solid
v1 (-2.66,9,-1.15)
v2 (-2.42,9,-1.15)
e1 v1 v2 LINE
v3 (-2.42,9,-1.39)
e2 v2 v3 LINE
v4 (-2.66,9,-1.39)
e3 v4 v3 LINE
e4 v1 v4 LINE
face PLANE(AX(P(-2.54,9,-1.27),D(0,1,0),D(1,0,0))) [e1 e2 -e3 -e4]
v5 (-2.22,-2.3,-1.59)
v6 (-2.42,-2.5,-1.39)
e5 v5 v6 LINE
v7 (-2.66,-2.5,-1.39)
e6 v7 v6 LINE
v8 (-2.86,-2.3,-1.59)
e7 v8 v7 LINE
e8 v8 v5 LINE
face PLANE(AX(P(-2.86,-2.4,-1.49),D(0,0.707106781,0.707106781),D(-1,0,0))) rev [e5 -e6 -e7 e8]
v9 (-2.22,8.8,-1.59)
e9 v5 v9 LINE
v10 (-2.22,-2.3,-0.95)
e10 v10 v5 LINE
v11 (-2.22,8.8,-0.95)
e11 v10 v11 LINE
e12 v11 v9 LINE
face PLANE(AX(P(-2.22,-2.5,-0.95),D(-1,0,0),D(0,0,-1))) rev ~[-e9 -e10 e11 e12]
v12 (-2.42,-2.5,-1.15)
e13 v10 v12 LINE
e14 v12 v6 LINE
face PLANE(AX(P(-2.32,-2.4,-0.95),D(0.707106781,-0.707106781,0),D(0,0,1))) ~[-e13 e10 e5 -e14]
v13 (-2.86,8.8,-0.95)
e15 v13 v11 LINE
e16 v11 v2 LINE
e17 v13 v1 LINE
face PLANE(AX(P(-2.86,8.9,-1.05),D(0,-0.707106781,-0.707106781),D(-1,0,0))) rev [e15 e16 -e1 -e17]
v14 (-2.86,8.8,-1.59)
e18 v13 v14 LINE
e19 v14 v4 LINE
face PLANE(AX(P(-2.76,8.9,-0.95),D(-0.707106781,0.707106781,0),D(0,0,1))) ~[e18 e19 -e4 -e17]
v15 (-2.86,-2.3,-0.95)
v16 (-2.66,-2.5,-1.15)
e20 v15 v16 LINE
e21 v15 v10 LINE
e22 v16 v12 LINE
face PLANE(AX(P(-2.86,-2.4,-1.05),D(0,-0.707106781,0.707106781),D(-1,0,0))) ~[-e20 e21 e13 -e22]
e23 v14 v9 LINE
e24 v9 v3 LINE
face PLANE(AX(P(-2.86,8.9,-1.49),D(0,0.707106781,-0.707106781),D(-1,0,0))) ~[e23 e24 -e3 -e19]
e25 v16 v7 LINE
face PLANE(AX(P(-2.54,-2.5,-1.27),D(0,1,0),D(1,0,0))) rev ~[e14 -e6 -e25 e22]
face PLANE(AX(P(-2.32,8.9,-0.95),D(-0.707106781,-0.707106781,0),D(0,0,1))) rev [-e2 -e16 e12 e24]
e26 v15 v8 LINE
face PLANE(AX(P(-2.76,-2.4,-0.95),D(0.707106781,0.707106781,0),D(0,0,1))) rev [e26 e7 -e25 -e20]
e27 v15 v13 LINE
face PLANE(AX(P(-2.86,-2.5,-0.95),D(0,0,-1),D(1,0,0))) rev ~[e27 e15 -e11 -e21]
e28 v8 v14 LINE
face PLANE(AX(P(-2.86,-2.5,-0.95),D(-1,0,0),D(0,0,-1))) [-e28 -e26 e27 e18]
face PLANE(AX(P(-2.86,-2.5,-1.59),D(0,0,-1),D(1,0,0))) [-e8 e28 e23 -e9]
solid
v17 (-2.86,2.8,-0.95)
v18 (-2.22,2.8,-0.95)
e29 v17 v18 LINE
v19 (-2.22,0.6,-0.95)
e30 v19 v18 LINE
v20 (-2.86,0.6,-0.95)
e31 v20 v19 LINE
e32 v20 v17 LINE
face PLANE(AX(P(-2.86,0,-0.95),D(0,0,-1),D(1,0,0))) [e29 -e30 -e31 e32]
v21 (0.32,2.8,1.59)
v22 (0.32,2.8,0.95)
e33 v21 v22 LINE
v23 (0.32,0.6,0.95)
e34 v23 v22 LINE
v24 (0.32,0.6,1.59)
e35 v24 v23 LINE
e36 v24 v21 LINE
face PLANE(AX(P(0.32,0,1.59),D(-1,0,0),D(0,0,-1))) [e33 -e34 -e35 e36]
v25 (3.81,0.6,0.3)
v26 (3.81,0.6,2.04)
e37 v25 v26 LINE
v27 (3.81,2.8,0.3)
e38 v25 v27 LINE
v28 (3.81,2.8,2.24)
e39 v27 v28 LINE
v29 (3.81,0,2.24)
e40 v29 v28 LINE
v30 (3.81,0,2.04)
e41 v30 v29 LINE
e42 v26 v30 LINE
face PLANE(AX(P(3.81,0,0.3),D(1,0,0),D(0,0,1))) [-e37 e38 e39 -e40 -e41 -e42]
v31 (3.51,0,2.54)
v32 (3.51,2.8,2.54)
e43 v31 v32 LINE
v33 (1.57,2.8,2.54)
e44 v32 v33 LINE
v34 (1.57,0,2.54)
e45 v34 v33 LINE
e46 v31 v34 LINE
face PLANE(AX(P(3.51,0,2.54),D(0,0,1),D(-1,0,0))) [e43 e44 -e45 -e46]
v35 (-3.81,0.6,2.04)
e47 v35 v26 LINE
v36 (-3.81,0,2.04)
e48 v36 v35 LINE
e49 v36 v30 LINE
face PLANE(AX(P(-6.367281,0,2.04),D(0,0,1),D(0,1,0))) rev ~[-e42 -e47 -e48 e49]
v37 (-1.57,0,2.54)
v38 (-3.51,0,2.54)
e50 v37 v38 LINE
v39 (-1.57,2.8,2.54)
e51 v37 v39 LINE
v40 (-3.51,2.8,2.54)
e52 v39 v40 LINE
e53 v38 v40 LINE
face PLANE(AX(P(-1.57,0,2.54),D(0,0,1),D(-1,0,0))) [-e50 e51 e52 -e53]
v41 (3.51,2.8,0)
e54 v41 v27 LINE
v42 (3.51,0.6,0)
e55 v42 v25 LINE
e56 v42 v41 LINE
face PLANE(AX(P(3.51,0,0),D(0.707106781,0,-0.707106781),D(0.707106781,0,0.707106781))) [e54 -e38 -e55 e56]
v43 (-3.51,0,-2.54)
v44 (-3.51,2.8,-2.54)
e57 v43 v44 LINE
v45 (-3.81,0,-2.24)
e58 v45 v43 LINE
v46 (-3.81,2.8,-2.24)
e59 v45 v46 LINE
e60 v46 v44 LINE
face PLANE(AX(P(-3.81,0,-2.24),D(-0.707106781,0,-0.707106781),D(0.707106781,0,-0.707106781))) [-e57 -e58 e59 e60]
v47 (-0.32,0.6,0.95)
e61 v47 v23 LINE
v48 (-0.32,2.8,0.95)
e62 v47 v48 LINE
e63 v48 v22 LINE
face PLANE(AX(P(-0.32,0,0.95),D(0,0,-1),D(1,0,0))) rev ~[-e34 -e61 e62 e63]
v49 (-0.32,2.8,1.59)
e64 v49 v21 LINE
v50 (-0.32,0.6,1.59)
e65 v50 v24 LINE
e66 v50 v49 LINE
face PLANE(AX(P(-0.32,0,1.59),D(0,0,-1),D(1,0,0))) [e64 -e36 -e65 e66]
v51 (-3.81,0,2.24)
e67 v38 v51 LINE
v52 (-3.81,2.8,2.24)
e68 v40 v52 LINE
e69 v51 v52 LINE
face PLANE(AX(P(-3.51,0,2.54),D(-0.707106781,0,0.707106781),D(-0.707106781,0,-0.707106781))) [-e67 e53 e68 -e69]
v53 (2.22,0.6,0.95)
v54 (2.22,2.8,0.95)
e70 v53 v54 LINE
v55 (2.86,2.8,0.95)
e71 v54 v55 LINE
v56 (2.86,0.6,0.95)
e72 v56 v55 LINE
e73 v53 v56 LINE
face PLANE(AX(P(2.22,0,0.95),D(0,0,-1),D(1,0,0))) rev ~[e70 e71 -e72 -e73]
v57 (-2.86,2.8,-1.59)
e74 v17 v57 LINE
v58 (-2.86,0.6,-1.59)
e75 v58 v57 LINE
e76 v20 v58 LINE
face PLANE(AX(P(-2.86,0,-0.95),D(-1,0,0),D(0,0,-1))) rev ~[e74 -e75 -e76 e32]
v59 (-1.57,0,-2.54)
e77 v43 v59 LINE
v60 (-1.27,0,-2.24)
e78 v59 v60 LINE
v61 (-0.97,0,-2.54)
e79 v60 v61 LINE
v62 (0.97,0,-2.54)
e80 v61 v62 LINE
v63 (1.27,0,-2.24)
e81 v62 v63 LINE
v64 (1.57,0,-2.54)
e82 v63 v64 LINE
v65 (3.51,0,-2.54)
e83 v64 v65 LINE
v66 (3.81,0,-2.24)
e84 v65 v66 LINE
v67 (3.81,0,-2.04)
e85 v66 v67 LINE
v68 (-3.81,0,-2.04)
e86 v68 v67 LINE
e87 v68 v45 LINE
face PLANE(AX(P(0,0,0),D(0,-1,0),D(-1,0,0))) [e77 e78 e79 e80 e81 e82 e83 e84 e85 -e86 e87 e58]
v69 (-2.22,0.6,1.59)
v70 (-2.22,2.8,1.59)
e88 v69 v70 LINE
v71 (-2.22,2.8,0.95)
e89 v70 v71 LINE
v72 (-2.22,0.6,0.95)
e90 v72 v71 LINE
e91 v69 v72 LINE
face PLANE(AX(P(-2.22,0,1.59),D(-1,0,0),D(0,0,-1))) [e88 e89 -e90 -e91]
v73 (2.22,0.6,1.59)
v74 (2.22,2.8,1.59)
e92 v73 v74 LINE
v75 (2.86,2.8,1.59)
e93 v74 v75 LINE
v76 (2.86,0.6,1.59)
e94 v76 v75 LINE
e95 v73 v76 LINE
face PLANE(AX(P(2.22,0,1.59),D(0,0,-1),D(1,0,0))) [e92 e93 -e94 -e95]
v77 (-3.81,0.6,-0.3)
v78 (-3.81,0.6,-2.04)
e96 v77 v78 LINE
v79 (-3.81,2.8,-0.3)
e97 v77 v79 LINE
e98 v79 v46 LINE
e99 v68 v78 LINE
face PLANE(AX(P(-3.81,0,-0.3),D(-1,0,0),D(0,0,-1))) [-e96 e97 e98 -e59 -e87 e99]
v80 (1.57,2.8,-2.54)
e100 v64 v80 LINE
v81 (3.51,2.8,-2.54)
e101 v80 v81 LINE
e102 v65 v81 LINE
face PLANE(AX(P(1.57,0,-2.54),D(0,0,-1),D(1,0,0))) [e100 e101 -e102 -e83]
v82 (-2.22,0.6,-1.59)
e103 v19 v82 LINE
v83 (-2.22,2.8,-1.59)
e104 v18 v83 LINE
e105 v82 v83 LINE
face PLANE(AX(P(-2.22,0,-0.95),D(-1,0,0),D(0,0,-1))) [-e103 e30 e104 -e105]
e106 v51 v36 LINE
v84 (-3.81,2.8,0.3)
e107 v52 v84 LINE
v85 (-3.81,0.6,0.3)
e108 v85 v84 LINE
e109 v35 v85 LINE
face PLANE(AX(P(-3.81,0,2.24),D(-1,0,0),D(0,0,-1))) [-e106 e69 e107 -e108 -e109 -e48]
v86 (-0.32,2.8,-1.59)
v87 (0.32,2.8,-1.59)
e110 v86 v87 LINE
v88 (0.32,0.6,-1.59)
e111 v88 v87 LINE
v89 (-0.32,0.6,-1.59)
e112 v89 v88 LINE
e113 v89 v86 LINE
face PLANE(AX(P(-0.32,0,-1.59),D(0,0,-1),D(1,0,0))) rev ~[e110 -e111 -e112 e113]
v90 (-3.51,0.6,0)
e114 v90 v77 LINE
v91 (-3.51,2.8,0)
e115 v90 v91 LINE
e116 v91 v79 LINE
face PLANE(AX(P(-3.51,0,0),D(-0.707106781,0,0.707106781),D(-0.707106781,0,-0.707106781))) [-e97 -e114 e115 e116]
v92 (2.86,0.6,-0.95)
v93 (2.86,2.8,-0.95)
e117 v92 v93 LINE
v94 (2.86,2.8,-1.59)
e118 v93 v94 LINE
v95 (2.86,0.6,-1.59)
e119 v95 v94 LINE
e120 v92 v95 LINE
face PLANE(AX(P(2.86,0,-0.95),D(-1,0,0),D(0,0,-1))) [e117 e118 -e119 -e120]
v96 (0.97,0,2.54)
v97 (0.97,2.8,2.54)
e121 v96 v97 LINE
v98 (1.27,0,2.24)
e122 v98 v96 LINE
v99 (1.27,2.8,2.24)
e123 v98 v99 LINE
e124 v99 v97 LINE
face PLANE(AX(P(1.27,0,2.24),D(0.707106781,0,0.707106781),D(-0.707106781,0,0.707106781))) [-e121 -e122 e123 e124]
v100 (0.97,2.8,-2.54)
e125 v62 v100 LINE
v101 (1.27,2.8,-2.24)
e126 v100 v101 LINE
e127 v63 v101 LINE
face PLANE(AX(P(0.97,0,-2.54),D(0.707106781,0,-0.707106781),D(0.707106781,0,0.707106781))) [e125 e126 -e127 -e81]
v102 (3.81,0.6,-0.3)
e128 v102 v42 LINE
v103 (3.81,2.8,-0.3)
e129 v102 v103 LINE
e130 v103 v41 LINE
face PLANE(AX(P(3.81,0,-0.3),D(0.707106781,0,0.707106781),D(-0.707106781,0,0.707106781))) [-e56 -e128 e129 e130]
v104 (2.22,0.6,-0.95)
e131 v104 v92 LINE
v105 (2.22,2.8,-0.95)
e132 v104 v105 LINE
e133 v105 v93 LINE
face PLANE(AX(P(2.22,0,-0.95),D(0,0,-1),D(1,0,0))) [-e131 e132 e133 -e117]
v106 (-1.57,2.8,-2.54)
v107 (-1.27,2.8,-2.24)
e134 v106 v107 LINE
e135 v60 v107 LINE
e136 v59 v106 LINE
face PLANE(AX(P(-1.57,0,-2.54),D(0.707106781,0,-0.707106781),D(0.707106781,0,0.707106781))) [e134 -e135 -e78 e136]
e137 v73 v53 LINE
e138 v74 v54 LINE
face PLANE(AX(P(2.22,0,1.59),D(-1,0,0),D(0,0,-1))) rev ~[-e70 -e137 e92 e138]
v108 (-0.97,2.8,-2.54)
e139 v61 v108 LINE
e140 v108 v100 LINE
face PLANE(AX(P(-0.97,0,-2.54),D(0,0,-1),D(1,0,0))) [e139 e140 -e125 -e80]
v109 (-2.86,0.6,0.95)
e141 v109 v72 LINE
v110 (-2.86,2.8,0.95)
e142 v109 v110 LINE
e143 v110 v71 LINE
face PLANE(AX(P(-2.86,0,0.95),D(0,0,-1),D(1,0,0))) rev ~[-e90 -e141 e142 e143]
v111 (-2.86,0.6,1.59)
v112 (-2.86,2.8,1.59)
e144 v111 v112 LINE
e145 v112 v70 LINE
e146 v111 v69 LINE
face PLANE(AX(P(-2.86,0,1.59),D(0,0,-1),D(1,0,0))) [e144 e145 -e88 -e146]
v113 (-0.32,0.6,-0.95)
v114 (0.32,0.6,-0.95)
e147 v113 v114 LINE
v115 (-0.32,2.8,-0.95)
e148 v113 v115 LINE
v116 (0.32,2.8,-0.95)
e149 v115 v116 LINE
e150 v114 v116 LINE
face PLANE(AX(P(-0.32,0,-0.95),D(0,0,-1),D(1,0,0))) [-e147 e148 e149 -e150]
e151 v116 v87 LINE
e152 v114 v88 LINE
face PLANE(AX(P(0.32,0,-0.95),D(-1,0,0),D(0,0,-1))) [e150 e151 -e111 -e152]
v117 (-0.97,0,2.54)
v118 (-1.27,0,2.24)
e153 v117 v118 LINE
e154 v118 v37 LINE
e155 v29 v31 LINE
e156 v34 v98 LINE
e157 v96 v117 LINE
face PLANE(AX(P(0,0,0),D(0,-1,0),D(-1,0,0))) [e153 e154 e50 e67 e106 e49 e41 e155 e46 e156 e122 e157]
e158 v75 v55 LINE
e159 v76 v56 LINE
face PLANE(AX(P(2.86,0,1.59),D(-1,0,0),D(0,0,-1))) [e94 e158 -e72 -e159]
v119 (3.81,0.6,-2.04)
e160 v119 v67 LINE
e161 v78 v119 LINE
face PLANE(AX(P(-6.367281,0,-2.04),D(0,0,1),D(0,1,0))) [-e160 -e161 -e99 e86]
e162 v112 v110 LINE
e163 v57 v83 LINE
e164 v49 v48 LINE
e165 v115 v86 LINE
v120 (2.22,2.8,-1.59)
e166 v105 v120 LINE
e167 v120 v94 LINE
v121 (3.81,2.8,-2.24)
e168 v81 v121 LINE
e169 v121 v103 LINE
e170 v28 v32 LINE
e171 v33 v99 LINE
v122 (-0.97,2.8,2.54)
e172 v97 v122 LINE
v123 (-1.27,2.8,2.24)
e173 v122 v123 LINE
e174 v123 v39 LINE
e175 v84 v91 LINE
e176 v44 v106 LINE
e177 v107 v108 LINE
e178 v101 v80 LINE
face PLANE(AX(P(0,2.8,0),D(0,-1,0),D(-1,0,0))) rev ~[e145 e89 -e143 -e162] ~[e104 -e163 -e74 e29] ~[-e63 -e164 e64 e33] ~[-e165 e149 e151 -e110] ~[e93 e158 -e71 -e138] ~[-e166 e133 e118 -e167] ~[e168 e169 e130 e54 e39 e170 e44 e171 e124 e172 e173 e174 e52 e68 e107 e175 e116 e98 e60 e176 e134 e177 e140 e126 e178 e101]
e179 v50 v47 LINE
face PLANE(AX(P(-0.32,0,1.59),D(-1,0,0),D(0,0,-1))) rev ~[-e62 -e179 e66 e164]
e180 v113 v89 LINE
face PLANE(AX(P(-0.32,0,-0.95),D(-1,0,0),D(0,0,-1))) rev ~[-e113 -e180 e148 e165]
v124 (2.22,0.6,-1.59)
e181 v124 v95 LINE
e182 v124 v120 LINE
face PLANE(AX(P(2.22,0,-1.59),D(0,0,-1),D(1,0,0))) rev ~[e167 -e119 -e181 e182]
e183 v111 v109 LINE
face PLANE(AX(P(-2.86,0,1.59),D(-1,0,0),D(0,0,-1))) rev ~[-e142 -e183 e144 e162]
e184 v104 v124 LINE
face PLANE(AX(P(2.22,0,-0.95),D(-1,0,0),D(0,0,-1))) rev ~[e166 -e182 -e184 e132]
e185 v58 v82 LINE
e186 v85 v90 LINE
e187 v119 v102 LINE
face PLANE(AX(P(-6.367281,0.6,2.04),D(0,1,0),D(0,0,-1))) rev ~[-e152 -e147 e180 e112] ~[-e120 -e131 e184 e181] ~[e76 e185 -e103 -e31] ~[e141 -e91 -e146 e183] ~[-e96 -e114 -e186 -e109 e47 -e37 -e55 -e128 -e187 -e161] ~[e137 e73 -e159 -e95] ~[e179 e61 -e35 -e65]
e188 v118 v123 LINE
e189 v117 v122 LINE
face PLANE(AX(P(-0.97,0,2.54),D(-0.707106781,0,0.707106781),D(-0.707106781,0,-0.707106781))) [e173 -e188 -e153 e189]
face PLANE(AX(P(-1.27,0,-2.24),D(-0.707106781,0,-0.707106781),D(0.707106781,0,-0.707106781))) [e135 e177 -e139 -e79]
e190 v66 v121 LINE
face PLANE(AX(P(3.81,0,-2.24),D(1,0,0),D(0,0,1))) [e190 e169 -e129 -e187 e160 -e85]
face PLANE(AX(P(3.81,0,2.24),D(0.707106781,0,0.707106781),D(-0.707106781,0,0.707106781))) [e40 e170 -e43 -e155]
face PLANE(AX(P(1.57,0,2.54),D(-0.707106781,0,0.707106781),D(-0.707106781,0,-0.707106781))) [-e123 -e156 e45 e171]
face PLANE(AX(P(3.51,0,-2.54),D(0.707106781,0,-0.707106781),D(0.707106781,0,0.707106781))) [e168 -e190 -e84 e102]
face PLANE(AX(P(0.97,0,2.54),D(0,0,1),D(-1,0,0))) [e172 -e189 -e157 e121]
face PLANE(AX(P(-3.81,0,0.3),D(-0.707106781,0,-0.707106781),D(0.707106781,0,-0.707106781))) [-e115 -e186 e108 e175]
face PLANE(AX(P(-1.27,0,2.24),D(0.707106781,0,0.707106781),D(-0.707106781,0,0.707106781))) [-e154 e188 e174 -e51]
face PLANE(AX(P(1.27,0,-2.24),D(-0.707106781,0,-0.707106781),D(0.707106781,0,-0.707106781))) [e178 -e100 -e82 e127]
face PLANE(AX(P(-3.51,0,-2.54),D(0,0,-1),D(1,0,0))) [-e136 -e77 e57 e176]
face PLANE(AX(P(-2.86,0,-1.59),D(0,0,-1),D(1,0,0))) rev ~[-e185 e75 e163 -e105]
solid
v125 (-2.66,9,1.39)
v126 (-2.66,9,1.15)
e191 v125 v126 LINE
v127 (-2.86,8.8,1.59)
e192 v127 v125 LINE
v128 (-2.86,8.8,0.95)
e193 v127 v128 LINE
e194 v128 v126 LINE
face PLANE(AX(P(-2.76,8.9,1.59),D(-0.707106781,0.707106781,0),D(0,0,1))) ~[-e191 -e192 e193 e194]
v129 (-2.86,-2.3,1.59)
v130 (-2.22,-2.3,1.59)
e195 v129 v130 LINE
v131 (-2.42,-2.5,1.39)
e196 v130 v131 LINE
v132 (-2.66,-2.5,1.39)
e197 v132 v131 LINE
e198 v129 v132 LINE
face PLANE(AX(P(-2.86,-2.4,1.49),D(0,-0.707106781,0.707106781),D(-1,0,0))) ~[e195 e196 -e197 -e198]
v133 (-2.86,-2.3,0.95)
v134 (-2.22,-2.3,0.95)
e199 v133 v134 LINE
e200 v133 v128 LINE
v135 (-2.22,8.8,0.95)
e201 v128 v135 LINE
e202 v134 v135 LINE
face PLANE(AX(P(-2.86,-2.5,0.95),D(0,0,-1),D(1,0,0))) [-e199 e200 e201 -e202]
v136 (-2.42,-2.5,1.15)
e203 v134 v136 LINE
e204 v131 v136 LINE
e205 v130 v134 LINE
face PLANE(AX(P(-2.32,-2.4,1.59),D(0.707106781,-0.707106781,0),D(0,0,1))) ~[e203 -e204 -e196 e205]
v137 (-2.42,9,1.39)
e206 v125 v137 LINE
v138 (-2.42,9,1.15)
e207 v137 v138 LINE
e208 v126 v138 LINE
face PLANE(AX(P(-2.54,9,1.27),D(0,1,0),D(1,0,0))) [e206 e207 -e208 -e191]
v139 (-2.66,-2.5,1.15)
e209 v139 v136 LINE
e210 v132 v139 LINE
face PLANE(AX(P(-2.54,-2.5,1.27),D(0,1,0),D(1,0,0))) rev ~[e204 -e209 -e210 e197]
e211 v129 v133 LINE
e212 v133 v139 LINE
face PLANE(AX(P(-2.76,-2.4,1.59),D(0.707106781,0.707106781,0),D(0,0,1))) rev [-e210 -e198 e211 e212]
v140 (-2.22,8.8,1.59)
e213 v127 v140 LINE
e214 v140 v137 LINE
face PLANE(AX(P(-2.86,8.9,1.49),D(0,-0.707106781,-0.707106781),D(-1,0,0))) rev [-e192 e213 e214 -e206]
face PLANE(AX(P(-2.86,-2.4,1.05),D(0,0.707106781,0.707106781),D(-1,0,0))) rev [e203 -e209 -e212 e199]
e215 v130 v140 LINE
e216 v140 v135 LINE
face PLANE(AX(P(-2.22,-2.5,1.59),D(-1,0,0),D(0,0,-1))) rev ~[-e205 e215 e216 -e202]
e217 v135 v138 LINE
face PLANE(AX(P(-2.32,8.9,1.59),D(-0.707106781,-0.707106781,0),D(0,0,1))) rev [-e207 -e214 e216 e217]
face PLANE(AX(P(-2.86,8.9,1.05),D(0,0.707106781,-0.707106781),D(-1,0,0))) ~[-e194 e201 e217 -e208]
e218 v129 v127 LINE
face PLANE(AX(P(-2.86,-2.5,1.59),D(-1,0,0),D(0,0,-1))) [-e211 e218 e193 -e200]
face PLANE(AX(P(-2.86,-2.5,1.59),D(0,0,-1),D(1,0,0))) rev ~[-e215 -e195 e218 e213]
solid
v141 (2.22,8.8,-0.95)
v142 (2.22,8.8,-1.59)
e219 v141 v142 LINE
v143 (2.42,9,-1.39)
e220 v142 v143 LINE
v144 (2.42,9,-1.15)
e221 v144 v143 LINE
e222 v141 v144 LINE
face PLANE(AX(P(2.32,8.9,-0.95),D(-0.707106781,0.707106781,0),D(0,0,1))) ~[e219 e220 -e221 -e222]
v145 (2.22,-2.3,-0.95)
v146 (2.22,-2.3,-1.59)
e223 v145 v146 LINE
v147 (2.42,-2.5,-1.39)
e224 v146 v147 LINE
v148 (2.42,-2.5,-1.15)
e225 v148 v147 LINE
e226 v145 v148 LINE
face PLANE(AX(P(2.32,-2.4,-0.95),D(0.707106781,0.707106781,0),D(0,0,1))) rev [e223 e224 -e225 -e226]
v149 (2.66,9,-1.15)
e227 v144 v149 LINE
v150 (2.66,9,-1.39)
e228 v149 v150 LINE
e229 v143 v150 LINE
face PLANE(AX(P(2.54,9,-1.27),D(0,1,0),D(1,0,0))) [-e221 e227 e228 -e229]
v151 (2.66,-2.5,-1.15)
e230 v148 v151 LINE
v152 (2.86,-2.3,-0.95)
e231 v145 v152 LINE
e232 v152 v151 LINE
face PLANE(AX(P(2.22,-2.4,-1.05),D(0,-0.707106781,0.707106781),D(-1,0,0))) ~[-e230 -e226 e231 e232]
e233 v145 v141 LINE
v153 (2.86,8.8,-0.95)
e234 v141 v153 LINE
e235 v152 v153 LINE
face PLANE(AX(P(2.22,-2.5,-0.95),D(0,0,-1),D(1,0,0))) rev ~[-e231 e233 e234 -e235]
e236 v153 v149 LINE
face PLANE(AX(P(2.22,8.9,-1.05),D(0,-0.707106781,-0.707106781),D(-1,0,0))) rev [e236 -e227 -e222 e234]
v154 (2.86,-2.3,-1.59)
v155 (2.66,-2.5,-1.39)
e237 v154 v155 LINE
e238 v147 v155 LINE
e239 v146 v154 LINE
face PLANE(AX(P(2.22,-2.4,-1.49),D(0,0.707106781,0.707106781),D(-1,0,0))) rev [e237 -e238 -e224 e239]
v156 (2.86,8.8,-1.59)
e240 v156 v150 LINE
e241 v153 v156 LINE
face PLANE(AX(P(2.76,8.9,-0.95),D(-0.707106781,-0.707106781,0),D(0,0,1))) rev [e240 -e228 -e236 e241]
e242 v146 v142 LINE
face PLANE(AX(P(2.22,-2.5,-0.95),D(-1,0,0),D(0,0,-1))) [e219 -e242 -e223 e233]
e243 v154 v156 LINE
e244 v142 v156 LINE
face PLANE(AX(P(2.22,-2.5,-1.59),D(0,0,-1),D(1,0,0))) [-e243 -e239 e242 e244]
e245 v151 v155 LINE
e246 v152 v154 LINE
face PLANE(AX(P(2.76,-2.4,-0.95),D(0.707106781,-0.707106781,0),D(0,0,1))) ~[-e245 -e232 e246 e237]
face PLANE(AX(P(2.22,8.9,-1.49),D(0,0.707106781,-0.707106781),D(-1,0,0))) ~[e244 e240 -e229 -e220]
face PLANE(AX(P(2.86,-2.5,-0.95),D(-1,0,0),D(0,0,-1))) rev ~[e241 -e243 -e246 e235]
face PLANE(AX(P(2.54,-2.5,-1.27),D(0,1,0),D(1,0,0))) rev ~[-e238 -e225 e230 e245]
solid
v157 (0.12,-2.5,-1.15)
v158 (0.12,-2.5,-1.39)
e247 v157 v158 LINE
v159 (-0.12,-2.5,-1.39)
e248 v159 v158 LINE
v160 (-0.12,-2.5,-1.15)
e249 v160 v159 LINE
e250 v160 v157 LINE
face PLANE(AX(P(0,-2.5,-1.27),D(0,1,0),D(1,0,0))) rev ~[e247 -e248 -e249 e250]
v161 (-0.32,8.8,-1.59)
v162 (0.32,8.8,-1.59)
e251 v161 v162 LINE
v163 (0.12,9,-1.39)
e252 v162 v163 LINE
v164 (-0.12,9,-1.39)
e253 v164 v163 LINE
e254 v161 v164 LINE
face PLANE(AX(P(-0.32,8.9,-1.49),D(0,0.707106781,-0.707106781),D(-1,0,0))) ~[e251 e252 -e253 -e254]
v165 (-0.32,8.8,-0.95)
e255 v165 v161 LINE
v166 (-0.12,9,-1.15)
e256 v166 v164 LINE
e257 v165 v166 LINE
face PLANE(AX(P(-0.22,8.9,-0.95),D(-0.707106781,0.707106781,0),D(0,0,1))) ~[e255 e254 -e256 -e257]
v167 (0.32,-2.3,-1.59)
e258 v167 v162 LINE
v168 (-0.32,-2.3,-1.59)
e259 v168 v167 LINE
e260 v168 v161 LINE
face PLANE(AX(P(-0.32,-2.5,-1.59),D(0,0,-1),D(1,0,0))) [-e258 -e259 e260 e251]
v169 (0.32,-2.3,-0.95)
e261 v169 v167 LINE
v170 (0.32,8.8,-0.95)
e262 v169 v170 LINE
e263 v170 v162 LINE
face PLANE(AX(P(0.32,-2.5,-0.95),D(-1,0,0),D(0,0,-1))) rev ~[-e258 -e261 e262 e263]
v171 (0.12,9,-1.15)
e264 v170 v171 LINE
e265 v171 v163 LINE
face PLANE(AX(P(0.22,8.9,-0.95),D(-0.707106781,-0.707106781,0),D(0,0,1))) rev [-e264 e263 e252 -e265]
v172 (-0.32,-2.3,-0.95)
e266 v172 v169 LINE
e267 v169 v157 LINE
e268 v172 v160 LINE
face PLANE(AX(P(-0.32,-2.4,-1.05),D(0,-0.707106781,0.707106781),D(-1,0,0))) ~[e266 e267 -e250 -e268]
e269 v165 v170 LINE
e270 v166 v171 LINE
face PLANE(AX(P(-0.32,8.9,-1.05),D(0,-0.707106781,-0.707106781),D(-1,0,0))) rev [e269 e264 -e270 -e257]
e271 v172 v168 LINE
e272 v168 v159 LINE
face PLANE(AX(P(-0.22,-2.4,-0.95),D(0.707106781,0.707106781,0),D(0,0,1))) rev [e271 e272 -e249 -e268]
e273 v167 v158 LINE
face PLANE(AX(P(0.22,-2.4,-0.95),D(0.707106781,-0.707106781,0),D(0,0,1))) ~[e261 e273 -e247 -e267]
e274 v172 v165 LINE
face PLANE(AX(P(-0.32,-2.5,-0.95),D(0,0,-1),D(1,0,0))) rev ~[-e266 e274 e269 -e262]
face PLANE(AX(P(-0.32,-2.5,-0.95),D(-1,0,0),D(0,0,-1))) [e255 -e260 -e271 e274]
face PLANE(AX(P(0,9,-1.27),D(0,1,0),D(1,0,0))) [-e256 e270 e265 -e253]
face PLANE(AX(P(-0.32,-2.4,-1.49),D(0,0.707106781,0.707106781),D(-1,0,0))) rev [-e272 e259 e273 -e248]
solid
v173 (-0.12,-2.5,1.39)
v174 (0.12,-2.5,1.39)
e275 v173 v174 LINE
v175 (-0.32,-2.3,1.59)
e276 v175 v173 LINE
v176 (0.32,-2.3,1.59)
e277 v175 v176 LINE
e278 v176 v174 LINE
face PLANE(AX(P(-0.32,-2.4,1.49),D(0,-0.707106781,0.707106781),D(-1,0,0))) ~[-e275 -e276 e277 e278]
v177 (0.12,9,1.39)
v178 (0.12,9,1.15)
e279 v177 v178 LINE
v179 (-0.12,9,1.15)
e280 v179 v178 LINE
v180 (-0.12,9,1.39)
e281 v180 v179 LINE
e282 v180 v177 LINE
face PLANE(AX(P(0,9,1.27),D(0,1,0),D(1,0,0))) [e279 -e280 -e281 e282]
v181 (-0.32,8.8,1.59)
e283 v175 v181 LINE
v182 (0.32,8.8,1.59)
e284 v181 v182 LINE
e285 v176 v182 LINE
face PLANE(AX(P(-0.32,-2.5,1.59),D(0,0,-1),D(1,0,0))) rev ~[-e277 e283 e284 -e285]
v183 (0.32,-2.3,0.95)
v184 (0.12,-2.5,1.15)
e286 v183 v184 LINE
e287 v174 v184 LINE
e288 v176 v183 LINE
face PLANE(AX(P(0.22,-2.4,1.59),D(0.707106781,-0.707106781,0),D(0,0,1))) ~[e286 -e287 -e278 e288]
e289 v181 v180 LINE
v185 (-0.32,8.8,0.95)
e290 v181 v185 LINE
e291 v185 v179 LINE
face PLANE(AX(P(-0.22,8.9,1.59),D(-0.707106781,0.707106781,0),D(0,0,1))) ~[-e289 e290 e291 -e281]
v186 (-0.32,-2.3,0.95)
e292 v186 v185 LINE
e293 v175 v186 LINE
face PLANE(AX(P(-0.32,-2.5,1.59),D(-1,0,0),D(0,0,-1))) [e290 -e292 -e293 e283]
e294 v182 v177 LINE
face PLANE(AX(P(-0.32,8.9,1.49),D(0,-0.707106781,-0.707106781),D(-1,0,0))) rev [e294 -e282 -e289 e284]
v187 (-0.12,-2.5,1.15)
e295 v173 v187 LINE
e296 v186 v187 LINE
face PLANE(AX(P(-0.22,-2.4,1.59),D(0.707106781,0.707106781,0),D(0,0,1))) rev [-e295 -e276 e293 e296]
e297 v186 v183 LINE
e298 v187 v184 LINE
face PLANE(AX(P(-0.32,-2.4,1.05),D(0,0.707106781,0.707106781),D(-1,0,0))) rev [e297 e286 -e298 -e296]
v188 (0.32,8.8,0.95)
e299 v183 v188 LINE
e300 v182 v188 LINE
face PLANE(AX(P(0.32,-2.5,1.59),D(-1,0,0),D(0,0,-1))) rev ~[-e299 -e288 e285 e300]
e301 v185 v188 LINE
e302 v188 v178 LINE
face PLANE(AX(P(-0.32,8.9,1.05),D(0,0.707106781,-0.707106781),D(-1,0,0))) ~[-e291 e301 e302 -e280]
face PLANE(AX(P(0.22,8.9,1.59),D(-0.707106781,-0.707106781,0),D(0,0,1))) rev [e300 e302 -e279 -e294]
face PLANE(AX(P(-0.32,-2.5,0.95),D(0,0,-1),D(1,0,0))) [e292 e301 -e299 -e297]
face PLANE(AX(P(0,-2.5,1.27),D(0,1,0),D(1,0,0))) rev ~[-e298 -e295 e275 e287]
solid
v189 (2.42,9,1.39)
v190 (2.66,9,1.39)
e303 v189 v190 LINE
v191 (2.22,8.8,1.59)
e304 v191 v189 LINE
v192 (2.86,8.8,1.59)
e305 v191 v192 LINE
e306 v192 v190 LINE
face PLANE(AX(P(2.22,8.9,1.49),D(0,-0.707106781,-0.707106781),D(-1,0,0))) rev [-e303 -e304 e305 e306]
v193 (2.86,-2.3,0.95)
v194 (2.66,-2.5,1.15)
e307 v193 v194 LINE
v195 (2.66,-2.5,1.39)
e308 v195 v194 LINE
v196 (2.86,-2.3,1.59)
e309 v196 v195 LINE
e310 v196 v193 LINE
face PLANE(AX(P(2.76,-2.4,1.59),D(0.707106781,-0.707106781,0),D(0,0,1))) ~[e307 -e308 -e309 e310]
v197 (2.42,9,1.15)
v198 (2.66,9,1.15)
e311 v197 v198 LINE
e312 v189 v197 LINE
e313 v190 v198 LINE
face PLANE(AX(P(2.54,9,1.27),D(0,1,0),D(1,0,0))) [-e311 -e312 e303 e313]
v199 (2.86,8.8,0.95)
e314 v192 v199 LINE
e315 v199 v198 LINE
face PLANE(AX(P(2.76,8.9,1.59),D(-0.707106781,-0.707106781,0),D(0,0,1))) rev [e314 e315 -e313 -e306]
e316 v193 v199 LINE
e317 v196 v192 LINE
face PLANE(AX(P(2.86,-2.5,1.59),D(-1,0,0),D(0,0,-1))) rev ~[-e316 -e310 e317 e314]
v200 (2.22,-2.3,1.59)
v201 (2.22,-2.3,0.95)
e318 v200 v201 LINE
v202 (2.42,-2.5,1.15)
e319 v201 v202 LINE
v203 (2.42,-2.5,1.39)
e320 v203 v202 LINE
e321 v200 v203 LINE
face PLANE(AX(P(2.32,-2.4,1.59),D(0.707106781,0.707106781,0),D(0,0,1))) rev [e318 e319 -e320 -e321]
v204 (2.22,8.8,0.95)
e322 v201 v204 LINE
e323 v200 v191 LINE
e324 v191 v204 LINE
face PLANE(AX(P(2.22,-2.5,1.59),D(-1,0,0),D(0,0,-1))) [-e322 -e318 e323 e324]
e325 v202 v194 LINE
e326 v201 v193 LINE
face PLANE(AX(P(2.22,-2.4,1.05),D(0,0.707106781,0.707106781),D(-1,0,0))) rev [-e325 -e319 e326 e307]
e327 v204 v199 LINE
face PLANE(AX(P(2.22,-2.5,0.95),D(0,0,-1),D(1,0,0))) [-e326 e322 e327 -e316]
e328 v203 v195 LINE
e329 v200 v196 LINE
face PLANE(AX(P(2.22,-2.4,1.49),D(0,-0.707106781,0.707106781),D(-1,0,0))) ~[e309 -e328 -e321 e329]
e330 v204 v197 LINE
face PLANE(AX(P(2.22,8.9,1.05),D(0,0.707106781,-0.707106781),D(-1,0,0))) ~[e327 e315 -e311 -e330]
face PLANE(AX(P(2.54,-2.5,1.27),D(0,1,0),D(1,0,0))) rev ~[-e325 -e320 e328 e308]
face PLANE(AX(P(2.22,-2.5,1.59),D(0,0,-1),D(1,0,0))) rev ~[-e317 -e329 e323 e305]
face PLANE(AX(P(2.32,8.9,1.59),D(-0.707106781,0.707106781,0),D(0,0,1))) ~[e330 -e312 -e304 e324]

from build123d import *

# Parameters (mm, degrees)
SKETCH1_W                  = 0.64
SKETCH1_H                  = 0.64
BOSS_EXTRUDE1_DEPTH        = 2.8
CUT_EXTRUDE1_DEPTH         = 6.367280503
CUT_EXTRUDE1_DEPTH_BACK    = 6.367280503
SKETCH2_W                  = 4.08
SKETCH2_H                  = 0.6
BOSS_EXTRUDE2_DEPTH        = 9
BOSS_EXTRUDE2_DEPTH_BACK   = 2.5
SKETCH1_2_W                = 0.64
SKETCH1_2_H                = 0.64
BOSS_EXTRUDE2_2_DEPTH      = 9
BOSS_EXTRUDE2_2_DEPTH_BACK = 2.5
BOSS_EXTRUDE2_3_DEPTH      = 9
BOSS_EXTRUDE2_3_DEPTH_BACK = 2.5
BOSS_EXTRUDE2_4_DEPTH      = 9
BOSS_EXTRUDE2_4_DEPTH_BACK = 2.5
BOSS_EXTRUDE2_5_DEPTH      = 9
BOSS_EXTRUDE2_5_DEPTH_BACK = 2.5
BOSS_EXTRUDE2_6_DEPTH      = 9
BOSS_EXTRUDE2_6_DEPTH_BACK = 2.5
CHAMFER1_SIZE              = 0.2
CHAMFER2_SIZE              = 0.2
CHAMFER3_SIZE              = 0.2
CHAMFER4_SIZE              = 0.2
CHAMFER5_SIZE              = 0.2
CHAMFER6_SIZE              = 0.2


with BuildPart() as part:
    # Sketch1 → Boss-Extrude1 (new body)
    with BuildSketch(Plane(origin=(0, 0, 0), x_dir=(1, 0, 0), z_dir=(0, 1, 0))):
        Polygon((-3.81, 2.24), (-3.51, 2.54), (-1.57, 2.54), (-1.27, 2.24), (-0.97, 2.54), (0.97, 2.54), (1.27, 2.24), (1.57, 2.54), (3.51, 2.54), (3.81, 2.24), (3.81, 0.3), (3.51, 0), (3.81, -0.3), (3.81, -2.24), (3.51, -2.54), (1.57, -2.54), (1.27, -2.24), (0.97, -2.54), (-0.97, -2.54), (-1.27, -2.24), (-1.57, -2.54), (-3.51, -2.54), (-3.81, -2.24), (-3.81, -0.3), (-3.51, 0), (-3.81, 0.3), align=None)
        with Locations((-2.54, 1.27)):
            Rectangle(SKETCH1_W, SKETCH1_H, mode=Mode.SUBTRACT)
        with Locations((0, 1.27)):
            Rectangle(SKETCH1_W, SKETCH1_H, mode=Mode.SUBTRACT)
        with Locations((2.54, 1.27)):
            Rectangle(SKETCH1_W, SKETCH1_H, mode=Mode.SUBTRACT)
        with Locations((0, -1.27)):
            Rectangle(SKETCH1_W, SKETCH1_H, mode=Mode.SUBTRACT)
        with Locations((2.54, -1.27)):
            Rectangle(SKETCH1_W, SKETCH1_H, mode=Mode.SUBTRACT)
        with Locations((-2.54, -1.27)):
            Rectangle(SKETCH1_W, SKETCH1_H, mode=Mode.SUBTRACT)
    extrude(amount=BOSS_EXTRUDE1_DEPTH)

    # Sketch2 → Cut-Extrude1 (cut, two sides: drawn at the far end of the back side and taken through both)
    with BuildSketch(Plane(origin=(0, 0, 0), x_dir=(0, 0, -1), z_dir=(1, 0, 0)).offset(-CUT_EXTRUDE1_DEPTH_BACK)):
        with Locations((0, 0.3)):
            Rectangle(SKETCH2_W, SKETCH2_H)
    extrude(amount=CUT_EXTRUDE1_DEPTH + CUT_EXTRUDE1_DEPTH_BACK, mode=Mode.SUBTRACT)


with BuildPart() as body_2:
    # Sketch1<2> → Boss-Extrude2 (new, two sides: drawn at the far end of the back side and taken through both)
    with BuildSketch(Plane(origin=(0, 0, 0), x_dir=(1, 0, 0), z_dir=(0, 1, 0)).offset(-BOSS_EXTRUDE2_DEPTH_BACK)):
        with Locations((-2.54, 1.27)):
            Rectangle(SKETCH1_2_W, SKETCH1_2_H)
    extrude(amount=BOSS_EXTRUDE2_DEPTH + BOSS_EXTRUDE2_DEPTH_BACK)

    # Chamfer1
    chamfer1_edges = [body_2.edges().sort_by_distance(p)[0] for p in [
        (-2.22, 9, -1.27),
        (-2.54, 9, -1.59),
        (-2.86, 9, -1.27),
        (-2.22, -2.5, -1.27),
        (-2.54, 9, -0.95),
        (-2.54, -2.5, -1.59),
        (-2.86, -2.5, -1.27),
        (-2.54, -2.5, -0.95),
    ]]
    chamfer(chamfer1_edges, length=CHAMFER1_SIZE)


with BuildPart() as body_3:
    # Sketch1<2> → Boss-Extrude2 2 (new, two sides: drawn at the far end of the back side and taken through both)
    with BuildSketch(Plane(origin=(0, 0, 0), x_dir=(1, 0, 0), z_dir=(0, 1, 0)).offset(-BOSS_EXTRUDE2_2_DEPTH_BACK)):
        with Locations((0, 1.27)):
            Rectangle(SKETCH1_2_W, SKETCH1_2_H)
    extrude(amount=BOSS_EXTRUDE2_2_DEPTH + BOSS_EXTRUDE2_2_DEPTH_BACK)

    # Chamfer4
    chamfer4_edges = [body_3.edges().sort_by_distance(p)[0] for p in [
        (-0.32, 9, -1.27),
        (0, 9, -0.95),
        (0.32, 9, -1.27),
        (0, 9, -1.59),
        (-0.32, -2.5, -1.27),
        (0, -2.5, -0.95),
        (0.32, -2.5, -1.27),
        (0, -2.5, -1.59),
    ]]
    chamfer(chamfer4_edges, length=CHAMFER4_SIZE)


with BuildPart() as body_4:
    # Sketch1<2> → Boss-Extrude2 3 (new, two sides: drawn at the far end of the back side and taken through both)
    with BuildSketch(Plane(origin=(0, 0, 0), x_dir=(1, 0, 0), z_dir=(0, 1, 0)).offset(-BOSS_EXTRUDE2_3_DEPTH_BACK)):
        with Locations((2.54, 1.27)):
            Rectangle(SKETCH1_2_W, SKETCH1_2_H)
    extrude(amount=BOSS_EXTRUDE2_3_DEPTH + BOSS_EXTRUDE2_3_DEPTH_BACK)

    # Chamfer6
    chamfer6_edges = [body_4.edges().sort_by_distance(p)[0] for p in [
        (2.22, 9, -1.27),
        (2.54, 9, -0.95),
        (2.86, 9, -1.27),
        (2.54, 9, -1.59),
        (2.22, -2.5, -1.27),
        (2.54, -2.5, -0.95),
        (2.86, -2.5, -1.27),
        (2.54, -2.5, -1.59),
    ]]
    chamfer(chamfer6_edges, length=CHAMFER6_SIZE)


with BuildPart() as body_5:
    # Sketch1<2> → Boss-Extrude2 4 (new, two sides: drawn at the far end of the back side and taken through both)
    with BuildSketch(Plane(origin=(0, 0, 0), x_dir=(1, 0, 0), z_dir=(0, 1, 0)).offset(-BOSS_EXTRUDE2_4_DEPTH_BACK)):
        with Locations((0, -1.27)):
            Rectangle(SKETCH1_2_W, SKETCH1_2_H)
    extrude(amount=BOSS_EXTRUDE2_4_DEPTH + BOSS_EXTRUDE2_4_DEPTH_BACK)

    # Chamfer3
    chamfer3_edges = [body_5.edges().sort_by_distance(p)[0] for p in [
        (-0.32, 9, 1.27),
        (0, 9, 1.59),
        (0.32, 9, 1.27),
        (0, 9, 0.95),
        (-0.32, -2.5, 1.27),
        (0, -2.5, 1.59),
        (0.32, -2.5, 1.27),
        (0, -2.5, 0.95),
    ]]
    chamfer(chamfer3_edges, length=CHAMFER3_SIZE)


with BuildPart() as body_6:
    # Sketch1<2> → Boss-Extrude2 5 (new, two sides: drawn at the far end of the back side and taken through both)
    with BuildSketch(Plane(origin=(0, 0, 0), x_dir=(1, 0, 0), z_dir=(0, 1, 0)).offset(-BOSS_EXTRUDE2_5_DEPTH_BACK)):
        with Locations((2.54, -1.27)):
            Rectangle(SKETCH1_2_W, SKETCH1_2_H)
    extrude(amount=BOSS_EXTRUDE2_5_DEPTH + BOSS_EXTRUDE2_5_DEPTH_BACK)

    # Chamfer5
    chamfer5_edges = [body_6.edges().sort_by_distance(p)[0] for p in [
        (2.22, 9, 1.27),
        (2.54, 9, 1.59),
        (2.86, 9, 1.27),
        (2.54, 9, 0.95),
        (2.22, -2.5, 1.27),
        (2.54, -2.5, 1.59),
        (2.86, -2.5, 1.27),
        (2.54, -2.5, 0.95),
    ]]
    chamfer(chamfer5_edges, length=CHAMFER5_SIZE)


with BuildPart() as body_7:
    # Sketch1<2> → Boss-Extrude2 6 (new, two sides: drawn at the far end of the back side and taken through both)
    with BuildSketch(Plane(origin=(0, 0, 0), x_dir=(1, 0, 0), z_dir=(0, 1, 0)).offset(-BOSS_EXTRUDE2_6_DEPTH_BACK)):
        with Locations((-2.54, -1.27)):
            Rectangle(SKETCH1_2_W, SKETCH1_2_H)
    extrude(amount=BOSS_EXTRUDE2_6_DEPTH + BOSS_EXTRUDE2_6_DEPTH_BACK)

    # Chamfer2
    chamfer2_edges = [body_7.edges().sort_by_distance(p)[0] for p in [
        (-2.86, 9, 1.27),
        (-2.54, 9, 1.59),
        (-2.22, 9, 1.27),
        (-2.54, 9, 0.95),
        (-2.86, -2.5, 1.27),
        (-2.54, -2.5, 1.59),
        (-2.22, -2.5, 1.27),
        (-2.54, -2.5, 0.95),
    ]]
    chamfer(chamfer2_edges, length=CHAMFER2_SIZE)


solid = Compound([part.part, body_2.part, body_3.part, body_4.part, body_5.part, body_6.part, body_7.part])
